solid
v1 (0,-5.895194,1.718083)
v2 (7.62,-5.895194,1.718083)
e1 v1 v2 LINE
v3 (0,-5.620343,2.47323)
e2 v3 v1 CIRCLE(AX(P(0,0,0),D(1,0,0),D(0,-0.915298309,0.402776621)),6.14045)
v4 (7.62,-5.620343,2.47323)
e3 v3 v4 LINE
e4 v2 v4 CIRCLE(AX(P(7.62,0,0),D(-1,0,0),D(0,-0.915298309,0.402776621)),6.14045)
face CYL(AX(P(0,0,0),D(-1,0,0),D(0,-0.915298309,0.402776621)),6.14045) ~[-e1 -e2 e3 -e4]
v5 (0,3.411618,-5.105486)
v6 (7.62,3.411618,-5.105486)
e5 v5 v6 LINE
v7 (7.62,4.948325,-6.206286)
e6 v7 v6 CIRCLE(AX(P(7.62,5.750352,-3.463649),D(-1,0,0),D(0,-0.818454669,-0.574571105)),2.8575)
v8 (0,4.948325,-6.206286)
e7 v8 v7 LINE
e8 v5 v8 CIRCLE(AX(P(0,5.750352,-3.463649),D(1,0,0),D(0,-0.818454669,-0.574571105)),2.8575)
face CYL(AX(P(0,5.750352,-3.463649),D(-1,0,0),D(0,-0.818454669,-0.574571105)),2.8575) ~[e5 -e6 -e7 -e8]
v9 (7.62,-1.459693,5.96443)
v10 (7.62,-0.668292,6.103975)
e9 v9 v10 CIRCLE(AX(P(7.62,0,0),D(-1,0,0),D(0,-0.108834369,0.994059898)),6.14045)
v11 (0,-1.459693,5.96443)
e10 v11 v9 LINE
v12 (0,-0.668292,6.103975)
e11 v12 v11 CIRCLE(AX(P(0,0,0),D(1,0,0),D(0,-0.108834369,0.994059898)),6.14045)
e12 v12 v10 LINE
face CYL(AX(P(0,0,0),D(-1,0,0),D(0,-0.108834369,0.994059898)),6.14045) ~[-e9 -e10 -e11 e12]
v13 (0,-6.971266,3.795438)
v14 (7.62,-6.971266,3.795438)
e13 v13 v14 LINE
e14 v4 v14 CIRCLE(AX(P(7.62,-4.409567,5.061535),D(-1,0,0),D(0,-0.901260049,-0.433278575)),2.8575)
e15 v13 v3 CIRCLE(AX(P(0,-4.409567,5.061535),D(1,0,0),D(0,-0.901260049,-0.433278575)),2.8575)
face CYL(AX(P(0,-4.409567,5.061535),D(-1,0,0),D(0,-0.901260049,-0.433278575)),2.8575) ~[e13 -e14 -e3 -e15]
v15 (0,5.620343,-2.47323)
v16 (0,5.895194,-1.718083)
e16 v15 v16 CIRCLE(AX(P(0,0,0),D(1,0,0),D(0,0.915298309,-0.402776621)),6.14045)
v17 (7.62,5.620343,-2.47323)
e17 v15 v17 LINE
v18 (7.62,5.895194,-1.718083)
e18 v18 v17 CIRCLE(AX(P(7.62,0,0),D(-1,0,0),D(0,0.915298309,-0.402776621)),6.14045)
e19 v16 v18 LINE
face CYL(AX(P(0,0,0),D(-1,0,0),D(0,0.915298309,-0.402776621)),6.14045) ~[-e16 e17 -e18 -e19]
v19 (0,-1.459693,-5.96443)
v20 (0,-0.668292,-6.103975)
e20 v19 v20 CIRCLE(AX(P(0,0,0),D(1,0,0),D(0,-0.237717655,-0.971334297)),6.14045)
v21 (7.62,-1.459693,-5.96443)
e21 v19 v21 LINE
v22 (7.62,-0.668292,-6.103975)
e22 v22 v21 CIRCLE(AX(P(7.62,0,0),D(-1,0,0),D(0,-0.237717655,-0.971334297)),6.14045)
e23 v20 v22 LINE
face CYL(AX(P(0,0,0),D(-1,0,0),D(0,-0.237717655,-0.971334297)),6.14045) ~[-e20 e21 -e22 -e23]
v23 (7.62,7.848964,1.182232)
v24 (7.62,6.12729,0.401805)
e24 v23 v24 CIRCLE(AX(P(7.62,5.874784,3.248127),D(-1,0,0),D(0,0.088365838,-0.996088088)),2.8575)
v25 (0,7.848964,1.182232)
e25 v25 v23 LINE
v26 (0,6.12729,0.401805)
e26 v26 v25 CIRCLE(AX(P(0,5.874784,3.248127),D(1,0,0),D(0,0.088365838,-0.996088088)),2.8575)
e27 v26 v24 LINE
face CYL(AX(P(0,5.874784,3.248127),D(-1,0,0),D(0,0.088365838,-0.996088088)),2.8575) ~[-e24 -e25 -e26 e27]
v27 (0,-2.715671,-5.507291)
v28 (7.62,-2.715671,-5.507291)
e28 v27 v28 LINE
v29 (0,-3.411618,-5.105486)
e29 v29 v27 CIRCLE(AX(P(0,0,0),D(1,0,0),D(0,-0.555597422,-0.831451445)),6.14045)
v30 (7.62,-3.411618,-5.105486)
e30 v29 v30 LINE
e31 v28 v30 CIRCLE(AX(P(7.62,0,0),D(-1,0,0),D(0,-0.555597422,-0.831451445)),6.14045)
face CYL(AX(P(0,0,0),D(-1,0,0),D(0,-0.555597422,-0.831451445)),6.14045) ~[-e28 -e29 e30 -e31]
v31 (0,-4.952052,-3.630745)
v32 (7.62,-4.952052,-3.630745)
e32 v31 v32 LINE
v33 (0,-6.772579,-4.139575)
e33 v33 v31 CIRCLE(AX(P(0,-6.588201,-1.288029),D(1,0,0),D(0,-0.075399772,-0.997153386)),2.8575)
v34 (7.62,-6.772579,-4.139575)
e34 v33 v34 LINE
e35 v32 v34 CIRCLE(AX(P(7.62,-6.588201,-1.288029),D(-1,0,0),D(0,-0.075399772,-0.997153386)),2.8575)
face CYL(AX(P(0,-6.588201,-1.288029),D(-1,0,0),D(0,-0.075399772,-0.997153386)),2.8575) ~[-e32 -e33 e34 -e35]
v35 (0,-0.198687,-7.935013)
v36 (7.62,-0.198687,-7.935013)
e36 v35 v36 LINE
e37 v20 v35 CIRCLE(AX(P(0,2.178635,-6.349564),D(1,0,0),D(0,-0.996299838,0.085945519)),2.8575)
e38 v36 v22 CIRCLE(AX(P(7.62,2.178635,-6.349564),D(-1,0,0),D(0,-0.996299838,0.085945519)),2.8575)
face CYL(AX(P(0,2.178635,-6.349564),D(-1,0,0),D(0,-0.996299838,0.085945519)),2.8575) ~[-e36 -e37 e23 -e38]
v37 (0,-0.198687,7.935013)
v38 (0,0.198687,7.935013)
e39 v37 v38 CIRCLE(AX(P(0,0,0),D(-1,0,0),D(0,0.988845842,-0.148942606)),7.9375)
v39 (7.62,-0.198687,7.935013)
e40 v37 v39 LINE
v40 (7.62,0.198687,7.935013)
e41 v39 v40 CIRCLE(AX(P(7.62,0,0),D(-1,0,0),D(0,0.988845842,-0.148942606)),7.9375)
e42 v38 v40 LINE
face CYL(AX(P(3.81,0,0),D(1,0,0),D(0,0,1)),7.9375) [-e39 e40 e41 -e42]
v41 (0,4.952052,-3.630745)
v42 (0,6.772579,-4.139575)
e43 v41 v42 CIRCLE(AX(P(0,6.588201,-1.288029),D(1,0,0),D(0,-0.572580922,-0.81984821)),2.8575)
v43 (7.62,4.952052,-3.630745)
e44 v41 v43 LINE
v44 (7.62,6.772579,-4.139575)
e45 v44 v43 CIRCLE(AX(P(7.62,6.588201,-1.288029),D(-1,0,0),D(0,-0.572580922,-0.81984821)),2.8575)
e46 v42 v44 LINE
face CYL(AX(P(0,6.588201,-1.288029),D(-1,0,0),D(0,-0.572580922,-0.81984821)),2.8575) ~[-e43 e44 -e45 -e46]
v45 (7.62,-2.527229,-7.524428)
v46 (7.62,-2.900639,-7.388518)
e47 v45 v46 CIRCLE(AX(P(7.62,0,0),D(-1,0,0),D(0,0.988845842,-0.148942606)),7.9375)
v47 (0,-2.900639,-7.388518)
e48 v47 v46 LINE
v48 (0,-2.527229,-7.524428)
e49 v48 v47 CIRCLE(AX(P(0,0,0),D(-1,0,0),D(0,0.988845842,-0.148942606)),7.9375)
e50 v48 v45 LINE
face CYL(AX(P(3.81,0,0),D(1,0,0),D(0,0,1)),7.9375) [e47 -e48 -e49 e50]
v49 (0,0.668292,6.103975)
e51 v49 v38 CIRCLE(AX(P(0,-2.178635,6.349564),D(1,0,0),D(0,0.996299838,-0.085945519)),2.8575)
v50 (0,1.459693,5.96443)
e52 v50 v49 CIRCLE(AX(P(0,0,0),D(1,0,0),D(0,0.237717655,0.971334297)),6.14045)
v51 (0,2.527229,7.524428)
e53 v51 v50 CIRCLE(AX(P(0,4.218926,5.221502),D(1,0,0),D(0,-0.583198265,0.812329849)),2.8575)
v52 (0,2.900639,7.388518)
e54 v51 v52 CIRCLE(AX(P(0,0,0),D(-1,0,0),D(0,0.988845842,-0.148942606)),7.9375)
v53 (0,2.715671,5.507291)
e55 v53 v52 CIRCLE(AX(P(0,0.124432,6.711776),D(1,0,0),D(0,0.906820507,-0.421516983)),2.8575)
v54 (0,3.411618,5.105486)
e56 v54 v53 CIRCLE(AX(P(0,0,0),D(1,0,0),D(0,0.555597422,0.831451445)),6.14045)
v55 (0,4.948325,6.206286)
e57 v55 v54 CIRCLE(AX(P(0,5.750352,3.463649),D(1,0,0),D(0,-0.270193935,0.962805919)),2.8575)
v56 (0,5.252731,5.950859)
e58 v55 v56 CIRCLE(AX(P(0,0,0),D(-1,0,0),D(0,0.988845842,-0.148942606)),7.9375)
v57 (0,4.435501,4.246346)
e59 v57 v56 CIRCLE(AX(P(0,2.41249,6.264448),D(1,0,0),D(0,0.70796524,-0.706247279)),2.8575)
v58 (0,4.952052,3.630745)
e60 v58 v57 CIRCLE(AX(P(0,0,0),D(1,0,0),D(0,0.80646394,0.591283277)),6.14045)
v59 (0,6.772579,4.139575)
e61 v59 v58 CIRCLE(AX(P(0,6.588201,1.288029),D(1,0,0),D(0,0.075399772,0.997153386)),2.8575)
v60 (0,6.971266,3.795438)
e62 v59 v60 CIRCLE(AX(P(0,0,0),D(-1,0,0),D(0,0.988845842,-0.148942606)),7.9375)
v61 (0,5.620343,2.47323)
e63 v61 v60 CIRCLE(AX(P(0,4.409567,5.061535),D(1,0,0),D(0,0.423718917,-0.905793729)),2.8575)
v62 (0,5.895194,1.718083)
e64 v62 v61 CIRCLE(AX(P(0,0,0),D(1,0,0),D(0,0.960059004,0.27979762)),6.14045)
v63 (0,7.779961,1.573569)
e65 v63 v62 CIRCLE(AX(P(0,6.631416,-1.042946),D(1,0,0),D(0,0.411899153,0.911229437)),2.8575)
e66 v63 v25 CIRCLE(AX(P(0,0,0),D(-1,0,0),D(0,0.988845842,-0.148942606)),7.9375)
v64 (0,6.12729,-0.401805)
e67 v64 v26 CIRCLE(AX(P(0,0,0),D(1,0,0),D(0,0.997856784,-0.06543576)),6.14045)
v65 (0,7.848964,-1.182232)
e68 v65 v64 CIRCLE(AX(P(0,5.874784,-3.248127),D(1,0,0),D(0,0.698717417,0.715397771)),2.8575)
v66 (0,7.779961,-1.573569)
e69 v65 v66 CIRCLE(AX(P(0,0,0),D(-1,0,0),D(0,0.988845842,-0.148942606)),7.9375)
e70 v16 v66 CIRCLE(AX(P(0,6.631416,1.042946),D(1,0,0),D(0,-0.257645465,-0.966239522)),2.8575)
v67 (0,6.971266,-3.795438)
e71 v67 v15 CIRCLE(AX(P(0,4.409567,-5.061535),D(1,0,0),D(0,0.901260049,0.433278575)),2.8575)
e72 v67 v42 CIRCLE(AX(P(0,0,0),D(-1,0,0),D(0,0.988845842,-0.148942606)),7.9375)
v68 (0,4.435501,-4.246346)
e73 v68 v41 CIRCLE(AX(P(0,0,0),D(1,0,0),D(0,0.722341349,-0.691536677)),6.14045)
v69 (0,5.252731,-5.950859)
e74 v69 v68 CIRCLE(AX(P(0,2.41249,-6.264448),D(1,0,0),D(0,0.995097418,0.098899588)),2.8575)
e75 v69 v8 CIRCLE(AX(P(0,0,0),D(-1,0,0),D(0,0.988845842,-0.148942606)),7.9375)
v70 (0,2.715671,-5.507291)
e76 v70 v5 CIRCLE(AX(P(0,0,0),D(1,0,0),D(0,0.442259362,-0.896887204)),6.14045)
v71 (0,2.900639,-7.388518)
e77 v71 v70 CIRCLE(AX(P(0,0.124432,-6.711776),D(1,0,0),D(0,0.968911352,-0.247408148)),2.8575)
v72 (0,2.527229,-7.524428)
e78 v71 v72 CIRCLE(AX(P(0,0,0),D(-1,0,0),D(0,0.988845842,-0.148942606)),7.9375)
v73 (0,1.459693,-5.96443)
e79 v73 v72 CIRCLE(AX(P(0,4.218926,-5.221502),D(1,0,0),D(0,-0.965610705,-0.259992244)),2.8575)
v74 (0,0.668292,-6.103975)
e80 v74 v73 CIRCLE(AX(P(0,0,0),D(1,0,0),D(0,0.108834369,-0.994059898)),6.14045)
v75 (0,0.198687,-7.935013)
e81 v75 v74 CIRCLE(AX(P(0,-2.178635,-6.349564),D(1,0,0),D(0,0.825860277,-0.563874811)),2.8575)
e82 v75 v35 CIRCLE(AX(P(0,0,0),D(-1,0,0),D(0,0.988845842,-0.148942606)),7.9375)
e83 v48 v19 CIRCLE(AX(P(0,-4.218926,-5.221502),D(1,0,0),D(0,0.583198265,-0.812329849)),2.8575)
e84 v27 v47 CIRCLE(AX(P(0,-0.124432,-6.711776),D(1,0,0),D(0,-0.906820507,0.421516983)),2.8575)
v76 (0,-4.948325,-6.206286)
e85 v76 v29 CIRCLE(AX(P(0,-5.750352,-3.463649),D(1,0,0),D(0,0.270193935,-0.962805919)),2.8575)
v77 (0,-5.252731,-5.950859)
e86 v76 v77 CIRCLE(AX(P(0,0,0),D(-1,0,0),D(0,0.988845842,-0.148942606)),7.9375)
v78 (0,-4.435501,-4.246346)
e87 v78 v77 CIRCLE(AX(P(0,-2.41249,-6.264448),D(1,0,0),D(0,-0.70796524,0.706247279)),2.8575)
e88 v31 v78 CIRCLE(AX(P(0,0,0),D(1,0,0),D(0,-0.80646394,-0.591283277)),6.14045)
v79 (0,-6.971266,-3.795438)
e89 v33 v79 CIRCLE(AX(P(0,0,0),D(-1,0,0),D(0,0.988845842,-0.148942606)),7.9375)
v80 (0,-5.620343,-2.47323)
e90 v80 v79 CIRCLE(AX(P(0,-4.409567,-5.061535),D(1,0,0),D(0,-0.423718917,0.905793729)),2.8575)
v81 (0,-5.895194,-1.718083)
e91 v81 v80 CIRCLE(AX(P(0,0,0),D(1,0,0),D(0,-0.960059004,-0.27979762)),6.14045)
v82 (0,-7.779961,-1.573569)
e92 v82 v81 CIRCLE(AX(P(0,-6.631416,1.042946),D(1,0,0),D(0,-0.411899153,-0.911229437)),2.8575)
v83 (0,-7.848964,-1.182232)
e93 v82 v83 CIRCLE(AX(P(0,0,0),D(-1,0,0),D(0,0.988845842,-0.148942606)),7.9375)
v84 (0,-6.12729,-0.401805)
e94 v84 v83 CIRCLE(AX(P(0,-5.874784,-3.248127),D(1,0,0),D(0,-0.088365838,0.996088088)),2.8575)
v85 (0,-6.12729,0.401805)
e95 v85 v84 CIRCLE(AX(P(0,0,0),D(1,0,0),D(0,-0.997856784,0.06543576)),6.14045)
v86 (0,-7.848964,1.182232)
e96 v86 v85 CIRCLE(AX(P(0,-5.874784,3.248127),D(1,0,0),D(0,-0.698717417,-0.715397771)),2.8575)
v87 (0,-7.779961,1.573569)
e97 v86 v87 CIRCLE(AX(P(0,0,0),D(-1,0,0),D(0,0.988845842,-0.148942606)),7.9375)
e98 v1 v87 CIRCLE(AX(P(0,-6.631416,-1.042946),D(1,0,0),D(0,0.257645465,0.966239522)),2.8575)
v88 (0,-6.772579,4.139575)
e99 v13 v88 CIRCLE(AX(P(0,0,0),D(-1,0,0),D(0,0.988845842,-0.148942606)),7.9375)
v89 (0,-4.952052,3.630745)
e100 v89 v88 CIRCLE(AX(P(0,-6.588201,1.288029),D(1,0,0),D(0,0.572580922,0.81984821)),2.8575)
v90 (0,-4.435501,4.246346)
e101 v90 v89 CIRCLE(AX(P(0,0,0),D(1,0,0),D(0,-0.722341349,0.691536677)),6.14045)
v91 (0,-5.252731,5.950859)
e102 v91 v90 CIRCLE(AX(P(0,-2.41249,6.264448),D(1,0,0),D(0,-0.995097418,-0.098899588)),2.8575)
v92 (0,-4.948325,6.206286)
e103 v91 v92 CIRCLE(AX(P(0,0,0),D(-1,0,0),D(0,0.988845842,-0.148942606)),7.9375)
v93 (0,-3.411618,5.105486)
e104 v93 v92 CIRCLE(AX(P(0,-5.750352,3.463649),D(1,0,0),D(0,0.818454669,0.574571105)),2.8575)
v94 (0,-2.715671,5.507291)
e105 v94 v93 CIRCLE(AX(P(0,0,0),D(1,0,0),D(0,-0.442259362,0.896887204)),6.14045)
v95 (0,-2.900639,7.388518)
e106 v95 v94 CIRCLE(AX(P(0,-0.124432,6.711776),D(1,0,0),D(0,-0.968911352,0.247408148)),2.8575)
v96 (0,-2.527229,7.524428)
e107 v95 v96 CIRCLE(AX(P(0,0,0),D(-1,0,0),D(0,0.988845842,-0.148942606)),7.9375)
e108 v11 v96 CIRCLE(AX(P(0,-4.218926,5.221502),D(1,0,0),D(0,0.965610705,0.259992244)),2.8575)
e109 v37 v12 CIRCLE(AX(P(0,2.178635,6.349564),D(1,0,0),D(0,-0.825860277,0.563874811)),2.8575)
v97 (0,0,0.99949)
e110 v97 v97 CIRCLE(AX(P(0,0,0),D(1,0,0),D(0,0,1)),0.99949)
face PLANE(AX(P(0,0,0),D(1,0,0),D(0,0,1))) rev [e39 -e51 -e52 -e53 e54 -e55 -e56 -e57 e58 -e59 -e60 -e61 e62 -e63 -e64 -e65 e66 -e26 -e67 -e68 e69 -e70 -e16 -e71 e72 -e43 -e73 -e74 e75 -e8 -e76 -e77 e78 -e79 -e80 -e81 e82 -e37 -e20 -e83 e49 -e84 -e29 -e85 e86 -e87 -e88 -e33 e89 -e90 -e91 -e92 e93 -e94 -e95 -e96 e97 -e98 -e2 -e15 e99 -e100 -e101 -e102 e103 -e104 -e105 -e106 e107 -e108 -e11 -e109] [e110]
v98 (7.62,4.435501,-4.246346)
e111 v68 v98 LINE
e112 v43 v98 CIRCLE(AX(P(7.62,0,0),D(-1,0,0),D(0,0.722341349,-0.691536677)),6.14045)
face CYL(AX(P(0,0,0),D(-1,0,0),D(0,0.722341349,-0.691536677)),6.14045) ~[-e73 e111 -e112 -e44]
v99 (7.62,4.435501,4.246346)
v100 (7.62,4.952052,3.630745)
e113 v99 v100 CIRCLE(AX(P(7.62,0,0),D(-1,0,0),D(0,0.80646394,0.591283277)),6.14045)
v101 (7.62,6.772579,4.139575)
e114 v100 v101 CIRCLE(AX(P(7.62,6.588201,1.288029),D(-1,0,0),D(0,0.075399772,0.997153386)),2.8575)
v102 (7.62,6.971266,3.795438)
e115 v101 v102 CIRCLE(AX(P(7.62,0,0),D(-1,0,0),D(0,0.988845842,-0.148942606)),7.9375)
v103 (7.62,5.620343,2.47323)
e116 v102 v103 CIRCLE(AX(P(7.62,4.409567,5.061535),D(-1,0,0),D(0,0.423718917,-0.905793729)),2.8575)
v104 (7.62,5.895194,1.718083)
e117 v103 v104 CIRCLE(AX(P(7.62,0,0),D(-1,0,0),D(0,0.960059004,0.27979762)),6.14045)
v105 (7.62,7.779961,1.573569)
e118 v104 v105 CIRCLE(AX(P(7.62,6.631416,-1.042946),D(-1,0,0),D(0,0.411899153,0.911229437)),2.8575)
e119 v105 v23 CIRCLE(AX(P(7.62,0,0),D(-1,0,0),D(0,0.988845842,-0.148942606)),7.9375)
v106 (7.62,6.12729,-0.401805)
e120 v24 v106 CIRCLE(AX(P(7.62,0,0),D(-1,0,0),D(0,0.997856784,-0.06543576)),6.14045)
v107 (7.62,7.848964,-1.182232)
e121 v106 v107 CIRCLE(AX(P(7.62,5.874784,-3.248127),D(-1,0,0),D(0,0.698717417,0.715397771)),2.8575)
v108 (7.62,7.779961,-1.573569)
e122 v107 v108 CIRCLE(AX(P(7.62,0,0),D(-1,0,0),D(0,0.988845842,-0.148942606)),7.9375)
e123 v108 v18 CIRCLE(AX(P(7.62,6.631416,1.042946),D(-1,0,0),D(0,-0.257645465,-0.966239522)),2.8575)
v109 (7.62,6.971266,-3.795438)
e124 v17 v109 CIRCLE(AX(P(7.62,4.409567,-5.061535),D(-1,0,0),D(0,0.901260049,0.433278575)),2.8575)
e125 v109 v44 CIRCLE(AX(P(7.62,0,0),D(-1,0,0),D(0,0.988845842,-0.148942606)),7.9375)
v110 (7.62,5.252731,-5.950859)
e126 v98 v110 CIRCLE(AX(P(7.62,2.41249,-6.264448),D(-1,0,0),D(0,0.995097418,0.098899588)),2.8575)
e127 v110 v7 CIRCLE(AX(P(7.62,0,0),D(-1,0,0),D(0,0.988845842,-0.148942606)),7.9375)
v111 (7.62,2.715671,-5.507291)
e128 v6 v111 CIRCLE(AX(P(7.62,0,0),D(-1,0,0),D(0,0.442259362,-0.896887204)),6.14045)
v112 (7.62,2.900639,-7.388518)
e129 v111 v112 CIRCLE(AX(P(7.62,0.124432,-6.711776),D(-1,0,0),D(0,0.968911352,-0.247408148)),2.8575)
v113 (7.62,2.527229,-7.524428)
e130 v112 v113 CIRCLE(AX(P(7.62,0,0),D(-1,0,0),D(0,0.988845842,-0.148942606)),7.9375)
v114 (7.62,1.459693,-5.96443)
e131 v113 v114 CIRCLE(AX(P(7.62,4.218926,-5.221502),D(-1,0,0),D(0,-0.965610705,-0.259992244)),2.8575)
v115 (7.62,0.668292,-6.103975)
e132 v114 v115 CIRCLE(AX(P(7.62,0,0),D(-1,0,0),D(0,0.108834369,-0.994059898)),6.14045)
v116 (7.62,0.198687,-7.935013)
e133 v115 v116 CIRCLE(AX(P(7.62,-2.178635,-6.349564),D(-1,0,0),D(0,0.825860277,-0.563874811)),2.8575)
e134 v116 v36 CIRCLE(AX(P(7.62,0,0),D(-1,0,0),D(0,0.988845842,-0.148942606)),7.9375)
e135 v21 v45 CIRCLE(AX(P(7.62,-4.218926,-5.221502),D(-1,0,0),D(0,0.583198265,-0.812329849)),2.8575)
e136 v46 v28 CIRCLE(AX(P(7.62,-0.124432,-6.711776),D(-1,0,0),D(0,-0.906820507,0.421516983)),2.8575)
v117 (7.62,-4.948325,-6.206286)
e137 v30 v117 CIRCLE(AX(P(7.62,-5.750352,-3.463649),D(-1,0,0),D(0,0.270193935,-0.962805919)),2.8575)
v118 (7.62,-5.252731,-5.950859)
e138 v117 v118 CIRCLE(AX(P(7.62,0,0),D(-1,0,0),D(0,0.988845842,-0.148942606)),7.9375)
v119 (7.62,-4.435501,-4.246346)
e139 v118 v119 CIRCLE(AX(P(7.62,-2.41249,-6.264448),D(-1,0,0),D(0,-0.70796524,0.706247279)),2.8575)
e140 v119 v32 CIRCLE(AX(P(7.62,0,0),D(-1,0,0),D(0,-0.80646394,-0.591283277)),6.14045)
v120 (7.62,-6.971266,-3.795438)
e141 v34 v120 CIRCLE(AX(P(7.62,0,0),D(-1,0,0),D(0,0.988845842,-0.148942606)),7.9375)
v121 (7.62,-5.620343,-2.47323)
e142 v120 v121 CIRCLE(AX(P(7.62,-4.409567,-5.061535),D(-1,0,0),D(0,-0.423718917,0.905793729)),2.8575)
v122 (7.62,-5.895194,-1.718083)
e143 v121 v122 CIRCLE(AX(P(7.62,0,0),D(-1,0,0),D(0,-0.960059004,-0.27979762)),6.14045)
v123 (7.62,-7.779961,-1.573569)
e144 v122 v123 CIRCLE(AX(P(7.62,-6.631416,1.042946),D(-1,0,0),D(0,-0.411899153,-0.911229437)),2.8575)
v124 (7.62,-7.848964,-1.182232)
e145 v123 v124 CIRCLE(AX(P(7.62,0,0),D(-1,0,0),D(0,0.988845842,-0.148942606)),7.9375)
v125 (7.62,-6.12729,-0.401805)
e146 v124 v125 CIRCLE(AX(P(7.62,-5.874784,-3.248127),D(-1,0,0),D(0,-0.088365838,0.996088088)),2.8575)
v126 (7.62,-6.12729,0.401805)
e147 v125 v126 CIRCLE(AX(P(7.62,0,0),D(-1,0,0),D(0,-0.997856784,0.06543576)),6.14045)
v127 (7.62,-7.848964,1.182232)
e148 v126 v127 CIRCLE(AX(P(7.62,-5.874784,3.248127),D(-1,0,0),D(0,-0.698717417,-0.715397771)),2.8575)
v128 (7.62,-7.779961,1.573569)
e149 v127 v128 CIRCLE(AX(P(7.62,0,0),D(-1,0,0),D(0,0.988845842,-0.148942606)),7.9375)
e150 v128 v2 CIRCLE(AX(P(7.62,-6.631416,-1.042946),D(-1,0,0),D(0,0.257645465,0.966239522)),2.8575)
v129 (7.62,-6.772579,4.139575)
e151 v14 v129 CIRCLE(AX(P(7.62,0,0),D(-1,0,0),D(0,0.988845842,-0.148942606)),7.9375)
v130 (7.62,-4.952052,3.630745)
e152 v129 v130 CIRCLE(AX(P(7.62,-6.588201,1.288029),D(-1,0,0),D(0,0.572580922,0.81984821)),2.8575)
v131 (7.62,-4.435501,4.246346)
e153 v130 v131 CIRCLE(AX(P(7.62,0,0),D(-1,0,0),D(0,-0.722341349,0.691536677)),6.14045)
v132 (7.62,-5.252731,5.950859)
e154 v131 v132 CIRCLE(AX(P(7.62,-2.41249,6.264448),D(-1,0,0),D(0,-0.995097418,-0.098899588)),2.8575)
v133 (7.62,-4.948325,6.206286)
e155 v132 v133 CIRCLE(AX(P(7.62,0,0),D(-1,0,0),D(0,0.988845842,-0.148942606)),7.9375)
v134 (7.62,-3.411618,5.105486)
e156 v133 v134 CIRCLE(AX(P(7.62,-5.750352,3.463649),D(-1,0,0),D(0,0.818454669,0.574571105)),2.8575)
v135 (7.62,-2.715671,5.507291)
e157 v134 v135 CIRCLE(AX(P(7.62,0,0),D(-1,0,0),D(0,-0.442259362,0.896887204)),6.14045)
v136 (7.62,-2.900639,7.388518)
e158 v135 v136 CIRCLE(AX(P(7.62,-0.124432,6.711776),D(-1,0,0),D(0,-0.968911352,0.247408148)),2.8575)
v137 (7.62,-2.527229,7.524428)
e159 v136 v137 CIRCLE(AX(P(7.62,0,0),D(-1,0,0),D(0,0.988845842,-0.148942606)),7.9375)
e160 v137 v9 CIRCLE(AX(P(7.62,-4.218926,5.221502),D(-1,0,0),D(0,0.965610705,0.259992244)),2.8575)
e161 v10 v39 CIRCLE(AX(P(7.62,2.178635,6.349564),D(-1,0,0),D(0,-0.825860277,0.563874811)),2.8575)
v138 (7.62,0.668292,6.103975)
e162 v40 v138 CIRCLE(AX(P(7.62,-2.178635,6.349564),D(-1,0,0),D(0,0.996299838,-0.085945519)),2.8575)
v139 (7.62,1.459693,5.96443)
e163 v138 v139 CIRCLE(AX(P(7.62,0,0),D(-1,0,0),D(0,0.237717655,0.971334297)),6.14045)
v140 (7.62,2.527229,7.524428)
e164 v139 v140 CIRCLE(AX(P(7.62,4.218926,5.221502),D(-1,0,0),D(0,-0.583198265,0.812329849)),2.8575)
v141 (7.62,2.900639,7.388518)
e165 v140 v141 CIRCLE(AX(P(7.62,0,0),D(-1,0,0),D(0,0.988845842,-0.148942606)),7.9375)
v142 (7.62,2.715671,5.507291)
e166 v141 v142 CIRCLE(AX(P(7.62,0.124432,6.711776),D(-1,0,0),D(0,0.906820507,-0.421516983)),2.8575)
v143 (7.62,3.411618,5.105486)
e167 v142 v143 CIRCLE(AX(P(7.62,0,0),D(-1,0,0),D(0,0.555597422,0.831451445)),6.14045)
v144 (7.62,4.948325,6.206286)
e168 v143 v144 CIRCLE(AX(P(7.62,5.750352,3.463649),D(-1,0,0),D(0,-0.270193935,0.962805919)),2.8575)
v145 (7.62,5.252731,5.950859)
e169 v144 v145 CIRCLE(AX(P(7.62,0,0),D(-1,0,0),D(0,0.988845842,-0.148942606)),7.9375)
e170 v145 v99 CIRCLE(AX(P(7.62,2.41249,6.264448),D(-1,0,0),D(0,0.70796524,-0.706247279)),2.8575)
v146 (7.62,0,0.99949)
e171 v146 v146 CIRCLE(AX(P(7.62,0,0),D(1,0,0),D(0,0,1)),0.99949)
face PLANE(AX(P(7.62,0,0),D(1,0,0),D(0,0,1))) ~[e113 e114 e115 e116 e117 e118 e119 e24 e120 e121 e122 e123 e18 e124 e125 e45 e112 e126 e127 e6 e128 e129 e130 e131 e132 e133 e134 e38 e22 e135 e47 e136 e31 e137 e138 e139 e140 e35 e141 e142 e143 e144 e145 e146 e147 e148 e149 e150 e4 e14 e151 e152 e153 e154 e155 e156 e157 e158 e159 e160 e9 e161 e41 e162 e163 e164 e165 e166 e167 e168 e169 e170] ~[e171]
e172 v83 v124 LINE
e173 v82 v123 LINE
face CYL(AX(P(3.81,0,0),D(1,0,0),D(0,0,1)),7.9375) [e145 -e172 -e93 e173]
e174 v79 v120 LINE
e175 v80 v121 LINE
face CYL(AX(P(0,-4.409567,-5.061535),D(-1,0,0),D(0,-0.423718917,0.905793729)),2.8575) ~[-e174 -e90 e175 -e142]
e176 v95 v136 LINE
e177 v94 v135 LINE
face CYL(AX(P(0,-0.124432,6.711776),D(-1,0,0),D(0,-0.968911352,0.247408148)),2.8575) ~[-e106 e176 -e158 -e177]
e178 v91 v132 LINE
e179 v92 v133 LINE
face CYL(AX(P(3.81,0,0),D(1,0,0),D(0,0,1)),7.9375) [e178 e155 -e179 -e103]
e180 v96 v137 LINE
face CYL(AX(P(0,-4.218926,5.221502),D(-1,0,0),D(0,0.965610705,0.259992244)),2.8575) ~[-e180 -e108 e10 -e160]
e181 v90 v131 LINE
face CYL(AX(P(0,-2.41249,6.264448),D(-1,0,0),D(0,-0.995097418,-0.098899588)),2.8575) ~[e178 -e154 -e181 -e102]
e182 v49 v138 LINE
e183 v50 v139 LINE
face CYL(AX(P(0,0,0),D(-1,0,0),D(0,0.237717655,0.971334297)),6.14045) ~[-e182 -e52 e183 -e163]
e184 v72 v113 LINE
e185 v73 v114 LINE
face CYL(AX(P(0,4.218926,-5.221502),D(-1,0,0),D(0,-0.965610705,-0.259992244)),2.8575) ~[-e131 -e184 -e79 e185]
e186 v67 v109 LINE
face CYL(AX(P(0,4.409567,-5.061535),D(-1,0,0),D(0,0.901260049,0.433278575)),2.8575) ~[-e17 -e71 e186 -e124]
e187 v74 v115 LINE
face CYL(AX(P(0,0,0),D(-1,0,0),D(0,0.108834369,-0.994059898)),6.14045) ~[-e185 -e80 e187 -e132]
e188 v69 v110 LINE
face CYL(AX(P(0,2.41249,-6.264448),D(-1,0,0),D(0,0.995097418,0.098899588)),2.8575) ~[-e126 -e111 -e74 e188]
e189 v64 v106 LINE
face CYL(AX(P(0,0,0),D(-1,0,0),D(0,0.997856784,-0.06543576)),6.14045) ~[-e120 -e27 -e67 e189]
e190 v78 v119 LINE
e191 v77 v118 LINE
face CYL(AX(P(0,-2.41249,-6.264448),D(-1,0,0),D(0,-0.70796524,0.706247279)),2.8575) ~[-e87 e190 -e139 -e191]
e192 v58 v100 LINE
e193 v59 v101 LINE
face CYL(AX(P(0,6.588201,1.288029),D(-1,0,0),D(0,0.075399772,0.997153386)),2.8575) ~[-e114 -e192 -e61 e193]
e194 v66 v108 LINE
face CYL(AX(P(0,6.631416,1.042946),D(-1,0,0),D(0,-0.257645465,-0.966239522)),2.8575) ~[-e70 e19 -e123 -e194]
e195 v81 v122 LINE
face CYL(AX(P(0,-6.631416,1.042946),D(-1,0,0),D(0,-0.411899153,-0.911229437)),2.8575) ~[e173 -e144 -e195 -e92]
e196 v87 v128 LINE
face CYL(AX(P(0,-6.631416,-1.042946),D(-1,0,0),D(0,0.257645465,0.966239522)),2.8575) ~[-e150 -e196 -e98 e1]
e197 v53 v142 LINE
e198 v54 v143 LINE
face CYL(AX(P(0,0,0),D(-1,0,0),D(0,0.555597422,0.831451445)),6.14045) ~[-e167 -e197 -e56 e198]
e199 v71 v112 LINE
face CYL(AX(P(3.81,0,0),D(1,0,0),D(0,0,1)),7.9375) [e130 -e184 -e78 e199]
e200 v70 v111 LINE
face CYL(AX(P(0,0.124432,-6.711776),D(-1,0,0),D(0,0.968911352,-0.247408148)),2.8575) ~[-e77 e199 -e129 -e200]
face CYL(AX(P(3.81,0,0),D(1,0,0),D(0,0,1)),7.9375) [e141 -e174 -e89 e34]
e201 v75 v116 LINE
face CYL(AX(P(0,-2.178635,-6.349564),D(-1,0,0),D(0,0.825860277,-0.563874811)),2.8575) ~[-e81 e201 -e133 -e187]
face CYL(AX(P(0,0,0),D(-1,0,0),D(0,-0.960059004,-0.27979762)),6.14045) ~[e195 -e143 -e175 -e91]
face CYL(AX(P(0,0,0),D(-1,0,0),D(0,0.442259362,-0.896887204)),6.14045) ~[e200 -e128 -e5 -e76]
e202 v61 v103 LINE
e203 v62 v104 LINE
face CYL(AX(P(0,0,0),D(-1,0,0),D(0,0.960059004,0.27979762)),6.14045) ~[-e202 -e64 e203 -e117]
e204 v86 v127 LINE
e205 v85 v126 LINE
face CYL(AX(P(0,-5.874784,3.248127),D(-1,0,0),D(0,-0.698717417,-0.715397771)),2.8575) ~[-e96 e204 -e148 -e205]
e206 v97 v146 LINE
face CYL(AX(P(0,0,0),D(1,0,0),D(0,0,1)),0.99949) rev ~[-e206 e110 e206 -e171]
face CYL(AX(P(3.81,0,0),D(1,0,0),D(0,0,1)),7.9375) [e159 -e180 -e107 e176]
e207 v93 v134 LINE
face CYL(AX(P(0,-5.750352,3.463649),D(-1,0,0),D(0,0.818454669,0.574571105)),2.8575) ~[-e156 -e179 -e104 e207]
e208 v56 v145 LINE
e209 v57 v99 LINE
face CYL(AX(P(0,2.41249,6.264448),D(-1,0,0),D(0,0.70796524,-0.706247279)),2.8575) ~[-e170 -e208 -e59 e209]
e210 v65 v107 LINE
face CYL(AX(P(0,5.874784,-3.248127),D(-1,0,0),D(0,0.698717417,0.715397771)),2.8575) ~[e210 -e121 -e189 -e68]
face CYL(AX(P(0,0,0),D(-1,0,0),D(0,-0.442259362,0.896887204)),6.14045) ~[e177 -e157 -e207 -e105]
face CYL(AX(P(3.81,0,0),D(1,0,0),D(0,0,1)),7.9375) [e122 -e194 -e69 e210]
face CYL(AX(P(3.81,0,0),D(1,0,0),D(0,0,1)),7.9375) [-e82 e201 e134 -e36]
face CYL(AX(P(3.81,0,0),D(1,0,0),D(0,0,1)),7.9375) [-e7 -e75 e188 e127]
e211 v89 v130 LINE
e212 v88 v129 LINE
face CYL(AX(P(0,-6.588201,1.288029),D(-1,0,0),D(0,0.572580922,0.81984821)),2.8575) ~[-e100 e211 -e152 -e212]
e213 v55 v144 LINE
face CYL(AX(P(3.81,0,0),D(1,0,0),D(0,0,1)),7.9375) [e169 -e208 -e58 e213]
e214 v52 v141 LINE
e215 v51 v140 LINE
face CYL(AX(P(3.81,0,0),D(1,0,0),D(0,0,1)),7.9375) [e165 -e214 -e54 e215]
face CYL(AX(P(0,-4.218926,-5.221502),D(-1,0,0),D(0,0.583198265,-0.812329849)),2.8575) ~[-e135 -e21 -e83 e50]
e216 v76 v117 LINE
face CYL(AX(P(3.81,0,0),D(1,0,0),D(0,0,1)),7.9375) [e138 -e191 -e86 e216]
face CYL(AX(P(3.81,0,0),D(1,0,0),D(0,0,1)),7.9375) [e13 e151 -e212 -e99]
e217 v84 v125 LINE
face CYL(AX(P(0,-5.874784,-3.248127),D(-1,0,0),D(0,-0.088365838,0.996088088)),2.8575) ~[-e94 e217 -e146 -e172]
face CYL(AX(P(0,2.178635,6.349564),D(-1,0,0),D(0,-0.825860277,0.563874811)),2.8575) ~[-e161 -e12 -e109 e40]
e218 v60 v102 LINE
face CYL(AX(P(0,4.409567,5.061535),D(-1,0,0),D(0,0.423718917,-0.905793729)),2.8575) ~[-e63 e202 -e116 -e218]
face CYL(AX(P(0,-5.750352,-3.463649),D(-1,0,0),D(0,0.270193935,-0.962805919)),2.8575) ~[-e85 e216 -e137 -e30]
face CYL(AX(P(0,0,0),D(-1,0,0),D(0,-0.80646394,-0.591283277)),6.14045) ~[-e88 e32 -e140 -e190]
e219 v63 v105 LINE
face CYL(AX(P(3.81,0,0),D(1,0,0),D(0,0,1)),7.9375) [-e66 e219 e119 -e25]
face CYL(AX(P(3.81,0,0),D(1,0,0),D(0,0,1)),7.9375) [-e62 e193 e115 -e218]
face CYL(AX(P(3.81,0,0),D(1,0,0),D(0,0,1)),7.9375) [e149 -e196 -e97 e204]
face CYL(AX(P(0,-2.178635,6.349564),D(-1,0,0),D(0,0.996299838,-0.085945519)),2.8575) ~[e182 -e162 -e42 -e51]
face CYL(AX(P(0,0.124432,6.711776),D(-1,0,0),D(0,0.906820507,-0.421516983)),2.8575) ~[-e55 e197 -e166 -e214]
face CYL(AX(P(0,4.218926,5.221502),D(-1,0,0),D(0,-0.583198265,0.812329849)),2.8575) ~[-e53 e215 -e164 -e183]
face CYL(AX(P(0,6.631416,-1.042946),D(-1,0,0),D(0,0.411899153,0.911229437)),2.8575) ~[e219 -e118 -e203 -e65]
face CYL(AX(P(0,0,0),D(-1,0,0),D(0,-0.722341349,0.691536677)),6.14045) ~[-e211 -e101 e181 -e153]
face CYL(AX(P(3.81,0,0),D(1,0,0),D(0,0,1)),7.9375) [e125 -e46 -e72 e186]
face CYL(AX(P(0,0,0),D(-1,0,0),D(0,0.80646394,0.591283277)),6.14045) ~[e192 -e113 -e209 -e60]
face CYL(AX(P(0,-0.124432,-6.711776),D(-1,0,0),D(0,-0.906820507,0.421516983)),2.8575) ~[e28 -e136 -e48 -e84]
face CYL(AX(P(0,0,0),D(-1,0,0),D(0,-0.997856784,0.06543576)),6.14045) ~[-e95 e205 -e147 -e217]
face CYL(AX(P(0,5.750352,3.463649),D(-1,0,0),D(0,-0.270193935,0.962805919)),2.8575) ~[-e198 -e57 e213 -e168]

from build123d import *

# Parameters (mm, degrees)
BASPROSKE_W     = 7.62
BASPROSKE_H     = 7.9375
TOOTHCUT_DEPTH  = 14.567321493
TEETHCUTS_COUNT = 18
TEETHCUTS_ANGLE = 340
BORSKE_R        = 0.99949
BORE_DEPTH      = 50.8000508


with BuildPart() as part:
    # BasProSke → Base-Revolve (revolve)
    with BuildSketch(Plane(origin=(0, 0, 0), x_dir=(1, 0, 0), z_dir=(0, 1, 0)), mode=Mode.PRIVATE) as base_revolve_sk:
        with Locations((3.81, 3.96875)):
            Rectangle(BASPROSKE_W, BASPROSKE_H)
    revolve(base_revolve_sk.sketch.rotate(Axis((-10, 0, 0), (1, 0, 0)), 180), axis=Axis((-10, 0, 0), (1, 0, 0)))

    # TooCutSke → ToothCut (cut, through all)
    with BuildSketch(Plane(origin=(0, 0, 0), x_dir=(0, 0, -1), z_dir=(1, 0, 0))):
        with BuildLine():
            ThreePointArc((0.401805019, 6.127289689), (0, 6.14045), (-0.401805019, 6.127289689))
            ThreePointArc((-0.401805019, 6.127289689), (-0.651999955, 7.068698885), (-1.203877601, 7.87136933))
            ThreePointArc((-1.203877601, 7.87136933), (0, 7.9629), (1.203877601, 7.87136933))
            ThreePointArc((1.203877601, 7.87136933), (0.651999955, 7.068698885), (0.401805019, 6.127289689))
        make_face()
    toothcut = extrude(amount=TOOTHCUT_DEPTH, mode=Mode.SUBTRACT)

    # TeethCuts: ToothCut ×18 about axis
    teethcuts_axis = Axis((-10, 0, 0), (1, 0, 0))
    for i in range(1, TEETHCUTS_COUNT):
        add(toothcut.rotate(teethcuts_axis, i * TEETHCUTS_ANGLE / (TEETHCUTS_COUNT - 1)), mode=Mode.SUBTRACT)

    # BorSke → Bore (cut, symmetric)
    with BuildSketch(Plane(origin=(0, 0, 0), x_dir=(0, 0, -1), z_dir=(1, 0, 0))):
        with Locations(Location((0, 0, 0), (0, 0, 180))):
            Circle(BORSKE_R)
    extrude(amount=BORE_DEPTH, both=True, mode=Mode.SUBTRACT)


solid = part.part
